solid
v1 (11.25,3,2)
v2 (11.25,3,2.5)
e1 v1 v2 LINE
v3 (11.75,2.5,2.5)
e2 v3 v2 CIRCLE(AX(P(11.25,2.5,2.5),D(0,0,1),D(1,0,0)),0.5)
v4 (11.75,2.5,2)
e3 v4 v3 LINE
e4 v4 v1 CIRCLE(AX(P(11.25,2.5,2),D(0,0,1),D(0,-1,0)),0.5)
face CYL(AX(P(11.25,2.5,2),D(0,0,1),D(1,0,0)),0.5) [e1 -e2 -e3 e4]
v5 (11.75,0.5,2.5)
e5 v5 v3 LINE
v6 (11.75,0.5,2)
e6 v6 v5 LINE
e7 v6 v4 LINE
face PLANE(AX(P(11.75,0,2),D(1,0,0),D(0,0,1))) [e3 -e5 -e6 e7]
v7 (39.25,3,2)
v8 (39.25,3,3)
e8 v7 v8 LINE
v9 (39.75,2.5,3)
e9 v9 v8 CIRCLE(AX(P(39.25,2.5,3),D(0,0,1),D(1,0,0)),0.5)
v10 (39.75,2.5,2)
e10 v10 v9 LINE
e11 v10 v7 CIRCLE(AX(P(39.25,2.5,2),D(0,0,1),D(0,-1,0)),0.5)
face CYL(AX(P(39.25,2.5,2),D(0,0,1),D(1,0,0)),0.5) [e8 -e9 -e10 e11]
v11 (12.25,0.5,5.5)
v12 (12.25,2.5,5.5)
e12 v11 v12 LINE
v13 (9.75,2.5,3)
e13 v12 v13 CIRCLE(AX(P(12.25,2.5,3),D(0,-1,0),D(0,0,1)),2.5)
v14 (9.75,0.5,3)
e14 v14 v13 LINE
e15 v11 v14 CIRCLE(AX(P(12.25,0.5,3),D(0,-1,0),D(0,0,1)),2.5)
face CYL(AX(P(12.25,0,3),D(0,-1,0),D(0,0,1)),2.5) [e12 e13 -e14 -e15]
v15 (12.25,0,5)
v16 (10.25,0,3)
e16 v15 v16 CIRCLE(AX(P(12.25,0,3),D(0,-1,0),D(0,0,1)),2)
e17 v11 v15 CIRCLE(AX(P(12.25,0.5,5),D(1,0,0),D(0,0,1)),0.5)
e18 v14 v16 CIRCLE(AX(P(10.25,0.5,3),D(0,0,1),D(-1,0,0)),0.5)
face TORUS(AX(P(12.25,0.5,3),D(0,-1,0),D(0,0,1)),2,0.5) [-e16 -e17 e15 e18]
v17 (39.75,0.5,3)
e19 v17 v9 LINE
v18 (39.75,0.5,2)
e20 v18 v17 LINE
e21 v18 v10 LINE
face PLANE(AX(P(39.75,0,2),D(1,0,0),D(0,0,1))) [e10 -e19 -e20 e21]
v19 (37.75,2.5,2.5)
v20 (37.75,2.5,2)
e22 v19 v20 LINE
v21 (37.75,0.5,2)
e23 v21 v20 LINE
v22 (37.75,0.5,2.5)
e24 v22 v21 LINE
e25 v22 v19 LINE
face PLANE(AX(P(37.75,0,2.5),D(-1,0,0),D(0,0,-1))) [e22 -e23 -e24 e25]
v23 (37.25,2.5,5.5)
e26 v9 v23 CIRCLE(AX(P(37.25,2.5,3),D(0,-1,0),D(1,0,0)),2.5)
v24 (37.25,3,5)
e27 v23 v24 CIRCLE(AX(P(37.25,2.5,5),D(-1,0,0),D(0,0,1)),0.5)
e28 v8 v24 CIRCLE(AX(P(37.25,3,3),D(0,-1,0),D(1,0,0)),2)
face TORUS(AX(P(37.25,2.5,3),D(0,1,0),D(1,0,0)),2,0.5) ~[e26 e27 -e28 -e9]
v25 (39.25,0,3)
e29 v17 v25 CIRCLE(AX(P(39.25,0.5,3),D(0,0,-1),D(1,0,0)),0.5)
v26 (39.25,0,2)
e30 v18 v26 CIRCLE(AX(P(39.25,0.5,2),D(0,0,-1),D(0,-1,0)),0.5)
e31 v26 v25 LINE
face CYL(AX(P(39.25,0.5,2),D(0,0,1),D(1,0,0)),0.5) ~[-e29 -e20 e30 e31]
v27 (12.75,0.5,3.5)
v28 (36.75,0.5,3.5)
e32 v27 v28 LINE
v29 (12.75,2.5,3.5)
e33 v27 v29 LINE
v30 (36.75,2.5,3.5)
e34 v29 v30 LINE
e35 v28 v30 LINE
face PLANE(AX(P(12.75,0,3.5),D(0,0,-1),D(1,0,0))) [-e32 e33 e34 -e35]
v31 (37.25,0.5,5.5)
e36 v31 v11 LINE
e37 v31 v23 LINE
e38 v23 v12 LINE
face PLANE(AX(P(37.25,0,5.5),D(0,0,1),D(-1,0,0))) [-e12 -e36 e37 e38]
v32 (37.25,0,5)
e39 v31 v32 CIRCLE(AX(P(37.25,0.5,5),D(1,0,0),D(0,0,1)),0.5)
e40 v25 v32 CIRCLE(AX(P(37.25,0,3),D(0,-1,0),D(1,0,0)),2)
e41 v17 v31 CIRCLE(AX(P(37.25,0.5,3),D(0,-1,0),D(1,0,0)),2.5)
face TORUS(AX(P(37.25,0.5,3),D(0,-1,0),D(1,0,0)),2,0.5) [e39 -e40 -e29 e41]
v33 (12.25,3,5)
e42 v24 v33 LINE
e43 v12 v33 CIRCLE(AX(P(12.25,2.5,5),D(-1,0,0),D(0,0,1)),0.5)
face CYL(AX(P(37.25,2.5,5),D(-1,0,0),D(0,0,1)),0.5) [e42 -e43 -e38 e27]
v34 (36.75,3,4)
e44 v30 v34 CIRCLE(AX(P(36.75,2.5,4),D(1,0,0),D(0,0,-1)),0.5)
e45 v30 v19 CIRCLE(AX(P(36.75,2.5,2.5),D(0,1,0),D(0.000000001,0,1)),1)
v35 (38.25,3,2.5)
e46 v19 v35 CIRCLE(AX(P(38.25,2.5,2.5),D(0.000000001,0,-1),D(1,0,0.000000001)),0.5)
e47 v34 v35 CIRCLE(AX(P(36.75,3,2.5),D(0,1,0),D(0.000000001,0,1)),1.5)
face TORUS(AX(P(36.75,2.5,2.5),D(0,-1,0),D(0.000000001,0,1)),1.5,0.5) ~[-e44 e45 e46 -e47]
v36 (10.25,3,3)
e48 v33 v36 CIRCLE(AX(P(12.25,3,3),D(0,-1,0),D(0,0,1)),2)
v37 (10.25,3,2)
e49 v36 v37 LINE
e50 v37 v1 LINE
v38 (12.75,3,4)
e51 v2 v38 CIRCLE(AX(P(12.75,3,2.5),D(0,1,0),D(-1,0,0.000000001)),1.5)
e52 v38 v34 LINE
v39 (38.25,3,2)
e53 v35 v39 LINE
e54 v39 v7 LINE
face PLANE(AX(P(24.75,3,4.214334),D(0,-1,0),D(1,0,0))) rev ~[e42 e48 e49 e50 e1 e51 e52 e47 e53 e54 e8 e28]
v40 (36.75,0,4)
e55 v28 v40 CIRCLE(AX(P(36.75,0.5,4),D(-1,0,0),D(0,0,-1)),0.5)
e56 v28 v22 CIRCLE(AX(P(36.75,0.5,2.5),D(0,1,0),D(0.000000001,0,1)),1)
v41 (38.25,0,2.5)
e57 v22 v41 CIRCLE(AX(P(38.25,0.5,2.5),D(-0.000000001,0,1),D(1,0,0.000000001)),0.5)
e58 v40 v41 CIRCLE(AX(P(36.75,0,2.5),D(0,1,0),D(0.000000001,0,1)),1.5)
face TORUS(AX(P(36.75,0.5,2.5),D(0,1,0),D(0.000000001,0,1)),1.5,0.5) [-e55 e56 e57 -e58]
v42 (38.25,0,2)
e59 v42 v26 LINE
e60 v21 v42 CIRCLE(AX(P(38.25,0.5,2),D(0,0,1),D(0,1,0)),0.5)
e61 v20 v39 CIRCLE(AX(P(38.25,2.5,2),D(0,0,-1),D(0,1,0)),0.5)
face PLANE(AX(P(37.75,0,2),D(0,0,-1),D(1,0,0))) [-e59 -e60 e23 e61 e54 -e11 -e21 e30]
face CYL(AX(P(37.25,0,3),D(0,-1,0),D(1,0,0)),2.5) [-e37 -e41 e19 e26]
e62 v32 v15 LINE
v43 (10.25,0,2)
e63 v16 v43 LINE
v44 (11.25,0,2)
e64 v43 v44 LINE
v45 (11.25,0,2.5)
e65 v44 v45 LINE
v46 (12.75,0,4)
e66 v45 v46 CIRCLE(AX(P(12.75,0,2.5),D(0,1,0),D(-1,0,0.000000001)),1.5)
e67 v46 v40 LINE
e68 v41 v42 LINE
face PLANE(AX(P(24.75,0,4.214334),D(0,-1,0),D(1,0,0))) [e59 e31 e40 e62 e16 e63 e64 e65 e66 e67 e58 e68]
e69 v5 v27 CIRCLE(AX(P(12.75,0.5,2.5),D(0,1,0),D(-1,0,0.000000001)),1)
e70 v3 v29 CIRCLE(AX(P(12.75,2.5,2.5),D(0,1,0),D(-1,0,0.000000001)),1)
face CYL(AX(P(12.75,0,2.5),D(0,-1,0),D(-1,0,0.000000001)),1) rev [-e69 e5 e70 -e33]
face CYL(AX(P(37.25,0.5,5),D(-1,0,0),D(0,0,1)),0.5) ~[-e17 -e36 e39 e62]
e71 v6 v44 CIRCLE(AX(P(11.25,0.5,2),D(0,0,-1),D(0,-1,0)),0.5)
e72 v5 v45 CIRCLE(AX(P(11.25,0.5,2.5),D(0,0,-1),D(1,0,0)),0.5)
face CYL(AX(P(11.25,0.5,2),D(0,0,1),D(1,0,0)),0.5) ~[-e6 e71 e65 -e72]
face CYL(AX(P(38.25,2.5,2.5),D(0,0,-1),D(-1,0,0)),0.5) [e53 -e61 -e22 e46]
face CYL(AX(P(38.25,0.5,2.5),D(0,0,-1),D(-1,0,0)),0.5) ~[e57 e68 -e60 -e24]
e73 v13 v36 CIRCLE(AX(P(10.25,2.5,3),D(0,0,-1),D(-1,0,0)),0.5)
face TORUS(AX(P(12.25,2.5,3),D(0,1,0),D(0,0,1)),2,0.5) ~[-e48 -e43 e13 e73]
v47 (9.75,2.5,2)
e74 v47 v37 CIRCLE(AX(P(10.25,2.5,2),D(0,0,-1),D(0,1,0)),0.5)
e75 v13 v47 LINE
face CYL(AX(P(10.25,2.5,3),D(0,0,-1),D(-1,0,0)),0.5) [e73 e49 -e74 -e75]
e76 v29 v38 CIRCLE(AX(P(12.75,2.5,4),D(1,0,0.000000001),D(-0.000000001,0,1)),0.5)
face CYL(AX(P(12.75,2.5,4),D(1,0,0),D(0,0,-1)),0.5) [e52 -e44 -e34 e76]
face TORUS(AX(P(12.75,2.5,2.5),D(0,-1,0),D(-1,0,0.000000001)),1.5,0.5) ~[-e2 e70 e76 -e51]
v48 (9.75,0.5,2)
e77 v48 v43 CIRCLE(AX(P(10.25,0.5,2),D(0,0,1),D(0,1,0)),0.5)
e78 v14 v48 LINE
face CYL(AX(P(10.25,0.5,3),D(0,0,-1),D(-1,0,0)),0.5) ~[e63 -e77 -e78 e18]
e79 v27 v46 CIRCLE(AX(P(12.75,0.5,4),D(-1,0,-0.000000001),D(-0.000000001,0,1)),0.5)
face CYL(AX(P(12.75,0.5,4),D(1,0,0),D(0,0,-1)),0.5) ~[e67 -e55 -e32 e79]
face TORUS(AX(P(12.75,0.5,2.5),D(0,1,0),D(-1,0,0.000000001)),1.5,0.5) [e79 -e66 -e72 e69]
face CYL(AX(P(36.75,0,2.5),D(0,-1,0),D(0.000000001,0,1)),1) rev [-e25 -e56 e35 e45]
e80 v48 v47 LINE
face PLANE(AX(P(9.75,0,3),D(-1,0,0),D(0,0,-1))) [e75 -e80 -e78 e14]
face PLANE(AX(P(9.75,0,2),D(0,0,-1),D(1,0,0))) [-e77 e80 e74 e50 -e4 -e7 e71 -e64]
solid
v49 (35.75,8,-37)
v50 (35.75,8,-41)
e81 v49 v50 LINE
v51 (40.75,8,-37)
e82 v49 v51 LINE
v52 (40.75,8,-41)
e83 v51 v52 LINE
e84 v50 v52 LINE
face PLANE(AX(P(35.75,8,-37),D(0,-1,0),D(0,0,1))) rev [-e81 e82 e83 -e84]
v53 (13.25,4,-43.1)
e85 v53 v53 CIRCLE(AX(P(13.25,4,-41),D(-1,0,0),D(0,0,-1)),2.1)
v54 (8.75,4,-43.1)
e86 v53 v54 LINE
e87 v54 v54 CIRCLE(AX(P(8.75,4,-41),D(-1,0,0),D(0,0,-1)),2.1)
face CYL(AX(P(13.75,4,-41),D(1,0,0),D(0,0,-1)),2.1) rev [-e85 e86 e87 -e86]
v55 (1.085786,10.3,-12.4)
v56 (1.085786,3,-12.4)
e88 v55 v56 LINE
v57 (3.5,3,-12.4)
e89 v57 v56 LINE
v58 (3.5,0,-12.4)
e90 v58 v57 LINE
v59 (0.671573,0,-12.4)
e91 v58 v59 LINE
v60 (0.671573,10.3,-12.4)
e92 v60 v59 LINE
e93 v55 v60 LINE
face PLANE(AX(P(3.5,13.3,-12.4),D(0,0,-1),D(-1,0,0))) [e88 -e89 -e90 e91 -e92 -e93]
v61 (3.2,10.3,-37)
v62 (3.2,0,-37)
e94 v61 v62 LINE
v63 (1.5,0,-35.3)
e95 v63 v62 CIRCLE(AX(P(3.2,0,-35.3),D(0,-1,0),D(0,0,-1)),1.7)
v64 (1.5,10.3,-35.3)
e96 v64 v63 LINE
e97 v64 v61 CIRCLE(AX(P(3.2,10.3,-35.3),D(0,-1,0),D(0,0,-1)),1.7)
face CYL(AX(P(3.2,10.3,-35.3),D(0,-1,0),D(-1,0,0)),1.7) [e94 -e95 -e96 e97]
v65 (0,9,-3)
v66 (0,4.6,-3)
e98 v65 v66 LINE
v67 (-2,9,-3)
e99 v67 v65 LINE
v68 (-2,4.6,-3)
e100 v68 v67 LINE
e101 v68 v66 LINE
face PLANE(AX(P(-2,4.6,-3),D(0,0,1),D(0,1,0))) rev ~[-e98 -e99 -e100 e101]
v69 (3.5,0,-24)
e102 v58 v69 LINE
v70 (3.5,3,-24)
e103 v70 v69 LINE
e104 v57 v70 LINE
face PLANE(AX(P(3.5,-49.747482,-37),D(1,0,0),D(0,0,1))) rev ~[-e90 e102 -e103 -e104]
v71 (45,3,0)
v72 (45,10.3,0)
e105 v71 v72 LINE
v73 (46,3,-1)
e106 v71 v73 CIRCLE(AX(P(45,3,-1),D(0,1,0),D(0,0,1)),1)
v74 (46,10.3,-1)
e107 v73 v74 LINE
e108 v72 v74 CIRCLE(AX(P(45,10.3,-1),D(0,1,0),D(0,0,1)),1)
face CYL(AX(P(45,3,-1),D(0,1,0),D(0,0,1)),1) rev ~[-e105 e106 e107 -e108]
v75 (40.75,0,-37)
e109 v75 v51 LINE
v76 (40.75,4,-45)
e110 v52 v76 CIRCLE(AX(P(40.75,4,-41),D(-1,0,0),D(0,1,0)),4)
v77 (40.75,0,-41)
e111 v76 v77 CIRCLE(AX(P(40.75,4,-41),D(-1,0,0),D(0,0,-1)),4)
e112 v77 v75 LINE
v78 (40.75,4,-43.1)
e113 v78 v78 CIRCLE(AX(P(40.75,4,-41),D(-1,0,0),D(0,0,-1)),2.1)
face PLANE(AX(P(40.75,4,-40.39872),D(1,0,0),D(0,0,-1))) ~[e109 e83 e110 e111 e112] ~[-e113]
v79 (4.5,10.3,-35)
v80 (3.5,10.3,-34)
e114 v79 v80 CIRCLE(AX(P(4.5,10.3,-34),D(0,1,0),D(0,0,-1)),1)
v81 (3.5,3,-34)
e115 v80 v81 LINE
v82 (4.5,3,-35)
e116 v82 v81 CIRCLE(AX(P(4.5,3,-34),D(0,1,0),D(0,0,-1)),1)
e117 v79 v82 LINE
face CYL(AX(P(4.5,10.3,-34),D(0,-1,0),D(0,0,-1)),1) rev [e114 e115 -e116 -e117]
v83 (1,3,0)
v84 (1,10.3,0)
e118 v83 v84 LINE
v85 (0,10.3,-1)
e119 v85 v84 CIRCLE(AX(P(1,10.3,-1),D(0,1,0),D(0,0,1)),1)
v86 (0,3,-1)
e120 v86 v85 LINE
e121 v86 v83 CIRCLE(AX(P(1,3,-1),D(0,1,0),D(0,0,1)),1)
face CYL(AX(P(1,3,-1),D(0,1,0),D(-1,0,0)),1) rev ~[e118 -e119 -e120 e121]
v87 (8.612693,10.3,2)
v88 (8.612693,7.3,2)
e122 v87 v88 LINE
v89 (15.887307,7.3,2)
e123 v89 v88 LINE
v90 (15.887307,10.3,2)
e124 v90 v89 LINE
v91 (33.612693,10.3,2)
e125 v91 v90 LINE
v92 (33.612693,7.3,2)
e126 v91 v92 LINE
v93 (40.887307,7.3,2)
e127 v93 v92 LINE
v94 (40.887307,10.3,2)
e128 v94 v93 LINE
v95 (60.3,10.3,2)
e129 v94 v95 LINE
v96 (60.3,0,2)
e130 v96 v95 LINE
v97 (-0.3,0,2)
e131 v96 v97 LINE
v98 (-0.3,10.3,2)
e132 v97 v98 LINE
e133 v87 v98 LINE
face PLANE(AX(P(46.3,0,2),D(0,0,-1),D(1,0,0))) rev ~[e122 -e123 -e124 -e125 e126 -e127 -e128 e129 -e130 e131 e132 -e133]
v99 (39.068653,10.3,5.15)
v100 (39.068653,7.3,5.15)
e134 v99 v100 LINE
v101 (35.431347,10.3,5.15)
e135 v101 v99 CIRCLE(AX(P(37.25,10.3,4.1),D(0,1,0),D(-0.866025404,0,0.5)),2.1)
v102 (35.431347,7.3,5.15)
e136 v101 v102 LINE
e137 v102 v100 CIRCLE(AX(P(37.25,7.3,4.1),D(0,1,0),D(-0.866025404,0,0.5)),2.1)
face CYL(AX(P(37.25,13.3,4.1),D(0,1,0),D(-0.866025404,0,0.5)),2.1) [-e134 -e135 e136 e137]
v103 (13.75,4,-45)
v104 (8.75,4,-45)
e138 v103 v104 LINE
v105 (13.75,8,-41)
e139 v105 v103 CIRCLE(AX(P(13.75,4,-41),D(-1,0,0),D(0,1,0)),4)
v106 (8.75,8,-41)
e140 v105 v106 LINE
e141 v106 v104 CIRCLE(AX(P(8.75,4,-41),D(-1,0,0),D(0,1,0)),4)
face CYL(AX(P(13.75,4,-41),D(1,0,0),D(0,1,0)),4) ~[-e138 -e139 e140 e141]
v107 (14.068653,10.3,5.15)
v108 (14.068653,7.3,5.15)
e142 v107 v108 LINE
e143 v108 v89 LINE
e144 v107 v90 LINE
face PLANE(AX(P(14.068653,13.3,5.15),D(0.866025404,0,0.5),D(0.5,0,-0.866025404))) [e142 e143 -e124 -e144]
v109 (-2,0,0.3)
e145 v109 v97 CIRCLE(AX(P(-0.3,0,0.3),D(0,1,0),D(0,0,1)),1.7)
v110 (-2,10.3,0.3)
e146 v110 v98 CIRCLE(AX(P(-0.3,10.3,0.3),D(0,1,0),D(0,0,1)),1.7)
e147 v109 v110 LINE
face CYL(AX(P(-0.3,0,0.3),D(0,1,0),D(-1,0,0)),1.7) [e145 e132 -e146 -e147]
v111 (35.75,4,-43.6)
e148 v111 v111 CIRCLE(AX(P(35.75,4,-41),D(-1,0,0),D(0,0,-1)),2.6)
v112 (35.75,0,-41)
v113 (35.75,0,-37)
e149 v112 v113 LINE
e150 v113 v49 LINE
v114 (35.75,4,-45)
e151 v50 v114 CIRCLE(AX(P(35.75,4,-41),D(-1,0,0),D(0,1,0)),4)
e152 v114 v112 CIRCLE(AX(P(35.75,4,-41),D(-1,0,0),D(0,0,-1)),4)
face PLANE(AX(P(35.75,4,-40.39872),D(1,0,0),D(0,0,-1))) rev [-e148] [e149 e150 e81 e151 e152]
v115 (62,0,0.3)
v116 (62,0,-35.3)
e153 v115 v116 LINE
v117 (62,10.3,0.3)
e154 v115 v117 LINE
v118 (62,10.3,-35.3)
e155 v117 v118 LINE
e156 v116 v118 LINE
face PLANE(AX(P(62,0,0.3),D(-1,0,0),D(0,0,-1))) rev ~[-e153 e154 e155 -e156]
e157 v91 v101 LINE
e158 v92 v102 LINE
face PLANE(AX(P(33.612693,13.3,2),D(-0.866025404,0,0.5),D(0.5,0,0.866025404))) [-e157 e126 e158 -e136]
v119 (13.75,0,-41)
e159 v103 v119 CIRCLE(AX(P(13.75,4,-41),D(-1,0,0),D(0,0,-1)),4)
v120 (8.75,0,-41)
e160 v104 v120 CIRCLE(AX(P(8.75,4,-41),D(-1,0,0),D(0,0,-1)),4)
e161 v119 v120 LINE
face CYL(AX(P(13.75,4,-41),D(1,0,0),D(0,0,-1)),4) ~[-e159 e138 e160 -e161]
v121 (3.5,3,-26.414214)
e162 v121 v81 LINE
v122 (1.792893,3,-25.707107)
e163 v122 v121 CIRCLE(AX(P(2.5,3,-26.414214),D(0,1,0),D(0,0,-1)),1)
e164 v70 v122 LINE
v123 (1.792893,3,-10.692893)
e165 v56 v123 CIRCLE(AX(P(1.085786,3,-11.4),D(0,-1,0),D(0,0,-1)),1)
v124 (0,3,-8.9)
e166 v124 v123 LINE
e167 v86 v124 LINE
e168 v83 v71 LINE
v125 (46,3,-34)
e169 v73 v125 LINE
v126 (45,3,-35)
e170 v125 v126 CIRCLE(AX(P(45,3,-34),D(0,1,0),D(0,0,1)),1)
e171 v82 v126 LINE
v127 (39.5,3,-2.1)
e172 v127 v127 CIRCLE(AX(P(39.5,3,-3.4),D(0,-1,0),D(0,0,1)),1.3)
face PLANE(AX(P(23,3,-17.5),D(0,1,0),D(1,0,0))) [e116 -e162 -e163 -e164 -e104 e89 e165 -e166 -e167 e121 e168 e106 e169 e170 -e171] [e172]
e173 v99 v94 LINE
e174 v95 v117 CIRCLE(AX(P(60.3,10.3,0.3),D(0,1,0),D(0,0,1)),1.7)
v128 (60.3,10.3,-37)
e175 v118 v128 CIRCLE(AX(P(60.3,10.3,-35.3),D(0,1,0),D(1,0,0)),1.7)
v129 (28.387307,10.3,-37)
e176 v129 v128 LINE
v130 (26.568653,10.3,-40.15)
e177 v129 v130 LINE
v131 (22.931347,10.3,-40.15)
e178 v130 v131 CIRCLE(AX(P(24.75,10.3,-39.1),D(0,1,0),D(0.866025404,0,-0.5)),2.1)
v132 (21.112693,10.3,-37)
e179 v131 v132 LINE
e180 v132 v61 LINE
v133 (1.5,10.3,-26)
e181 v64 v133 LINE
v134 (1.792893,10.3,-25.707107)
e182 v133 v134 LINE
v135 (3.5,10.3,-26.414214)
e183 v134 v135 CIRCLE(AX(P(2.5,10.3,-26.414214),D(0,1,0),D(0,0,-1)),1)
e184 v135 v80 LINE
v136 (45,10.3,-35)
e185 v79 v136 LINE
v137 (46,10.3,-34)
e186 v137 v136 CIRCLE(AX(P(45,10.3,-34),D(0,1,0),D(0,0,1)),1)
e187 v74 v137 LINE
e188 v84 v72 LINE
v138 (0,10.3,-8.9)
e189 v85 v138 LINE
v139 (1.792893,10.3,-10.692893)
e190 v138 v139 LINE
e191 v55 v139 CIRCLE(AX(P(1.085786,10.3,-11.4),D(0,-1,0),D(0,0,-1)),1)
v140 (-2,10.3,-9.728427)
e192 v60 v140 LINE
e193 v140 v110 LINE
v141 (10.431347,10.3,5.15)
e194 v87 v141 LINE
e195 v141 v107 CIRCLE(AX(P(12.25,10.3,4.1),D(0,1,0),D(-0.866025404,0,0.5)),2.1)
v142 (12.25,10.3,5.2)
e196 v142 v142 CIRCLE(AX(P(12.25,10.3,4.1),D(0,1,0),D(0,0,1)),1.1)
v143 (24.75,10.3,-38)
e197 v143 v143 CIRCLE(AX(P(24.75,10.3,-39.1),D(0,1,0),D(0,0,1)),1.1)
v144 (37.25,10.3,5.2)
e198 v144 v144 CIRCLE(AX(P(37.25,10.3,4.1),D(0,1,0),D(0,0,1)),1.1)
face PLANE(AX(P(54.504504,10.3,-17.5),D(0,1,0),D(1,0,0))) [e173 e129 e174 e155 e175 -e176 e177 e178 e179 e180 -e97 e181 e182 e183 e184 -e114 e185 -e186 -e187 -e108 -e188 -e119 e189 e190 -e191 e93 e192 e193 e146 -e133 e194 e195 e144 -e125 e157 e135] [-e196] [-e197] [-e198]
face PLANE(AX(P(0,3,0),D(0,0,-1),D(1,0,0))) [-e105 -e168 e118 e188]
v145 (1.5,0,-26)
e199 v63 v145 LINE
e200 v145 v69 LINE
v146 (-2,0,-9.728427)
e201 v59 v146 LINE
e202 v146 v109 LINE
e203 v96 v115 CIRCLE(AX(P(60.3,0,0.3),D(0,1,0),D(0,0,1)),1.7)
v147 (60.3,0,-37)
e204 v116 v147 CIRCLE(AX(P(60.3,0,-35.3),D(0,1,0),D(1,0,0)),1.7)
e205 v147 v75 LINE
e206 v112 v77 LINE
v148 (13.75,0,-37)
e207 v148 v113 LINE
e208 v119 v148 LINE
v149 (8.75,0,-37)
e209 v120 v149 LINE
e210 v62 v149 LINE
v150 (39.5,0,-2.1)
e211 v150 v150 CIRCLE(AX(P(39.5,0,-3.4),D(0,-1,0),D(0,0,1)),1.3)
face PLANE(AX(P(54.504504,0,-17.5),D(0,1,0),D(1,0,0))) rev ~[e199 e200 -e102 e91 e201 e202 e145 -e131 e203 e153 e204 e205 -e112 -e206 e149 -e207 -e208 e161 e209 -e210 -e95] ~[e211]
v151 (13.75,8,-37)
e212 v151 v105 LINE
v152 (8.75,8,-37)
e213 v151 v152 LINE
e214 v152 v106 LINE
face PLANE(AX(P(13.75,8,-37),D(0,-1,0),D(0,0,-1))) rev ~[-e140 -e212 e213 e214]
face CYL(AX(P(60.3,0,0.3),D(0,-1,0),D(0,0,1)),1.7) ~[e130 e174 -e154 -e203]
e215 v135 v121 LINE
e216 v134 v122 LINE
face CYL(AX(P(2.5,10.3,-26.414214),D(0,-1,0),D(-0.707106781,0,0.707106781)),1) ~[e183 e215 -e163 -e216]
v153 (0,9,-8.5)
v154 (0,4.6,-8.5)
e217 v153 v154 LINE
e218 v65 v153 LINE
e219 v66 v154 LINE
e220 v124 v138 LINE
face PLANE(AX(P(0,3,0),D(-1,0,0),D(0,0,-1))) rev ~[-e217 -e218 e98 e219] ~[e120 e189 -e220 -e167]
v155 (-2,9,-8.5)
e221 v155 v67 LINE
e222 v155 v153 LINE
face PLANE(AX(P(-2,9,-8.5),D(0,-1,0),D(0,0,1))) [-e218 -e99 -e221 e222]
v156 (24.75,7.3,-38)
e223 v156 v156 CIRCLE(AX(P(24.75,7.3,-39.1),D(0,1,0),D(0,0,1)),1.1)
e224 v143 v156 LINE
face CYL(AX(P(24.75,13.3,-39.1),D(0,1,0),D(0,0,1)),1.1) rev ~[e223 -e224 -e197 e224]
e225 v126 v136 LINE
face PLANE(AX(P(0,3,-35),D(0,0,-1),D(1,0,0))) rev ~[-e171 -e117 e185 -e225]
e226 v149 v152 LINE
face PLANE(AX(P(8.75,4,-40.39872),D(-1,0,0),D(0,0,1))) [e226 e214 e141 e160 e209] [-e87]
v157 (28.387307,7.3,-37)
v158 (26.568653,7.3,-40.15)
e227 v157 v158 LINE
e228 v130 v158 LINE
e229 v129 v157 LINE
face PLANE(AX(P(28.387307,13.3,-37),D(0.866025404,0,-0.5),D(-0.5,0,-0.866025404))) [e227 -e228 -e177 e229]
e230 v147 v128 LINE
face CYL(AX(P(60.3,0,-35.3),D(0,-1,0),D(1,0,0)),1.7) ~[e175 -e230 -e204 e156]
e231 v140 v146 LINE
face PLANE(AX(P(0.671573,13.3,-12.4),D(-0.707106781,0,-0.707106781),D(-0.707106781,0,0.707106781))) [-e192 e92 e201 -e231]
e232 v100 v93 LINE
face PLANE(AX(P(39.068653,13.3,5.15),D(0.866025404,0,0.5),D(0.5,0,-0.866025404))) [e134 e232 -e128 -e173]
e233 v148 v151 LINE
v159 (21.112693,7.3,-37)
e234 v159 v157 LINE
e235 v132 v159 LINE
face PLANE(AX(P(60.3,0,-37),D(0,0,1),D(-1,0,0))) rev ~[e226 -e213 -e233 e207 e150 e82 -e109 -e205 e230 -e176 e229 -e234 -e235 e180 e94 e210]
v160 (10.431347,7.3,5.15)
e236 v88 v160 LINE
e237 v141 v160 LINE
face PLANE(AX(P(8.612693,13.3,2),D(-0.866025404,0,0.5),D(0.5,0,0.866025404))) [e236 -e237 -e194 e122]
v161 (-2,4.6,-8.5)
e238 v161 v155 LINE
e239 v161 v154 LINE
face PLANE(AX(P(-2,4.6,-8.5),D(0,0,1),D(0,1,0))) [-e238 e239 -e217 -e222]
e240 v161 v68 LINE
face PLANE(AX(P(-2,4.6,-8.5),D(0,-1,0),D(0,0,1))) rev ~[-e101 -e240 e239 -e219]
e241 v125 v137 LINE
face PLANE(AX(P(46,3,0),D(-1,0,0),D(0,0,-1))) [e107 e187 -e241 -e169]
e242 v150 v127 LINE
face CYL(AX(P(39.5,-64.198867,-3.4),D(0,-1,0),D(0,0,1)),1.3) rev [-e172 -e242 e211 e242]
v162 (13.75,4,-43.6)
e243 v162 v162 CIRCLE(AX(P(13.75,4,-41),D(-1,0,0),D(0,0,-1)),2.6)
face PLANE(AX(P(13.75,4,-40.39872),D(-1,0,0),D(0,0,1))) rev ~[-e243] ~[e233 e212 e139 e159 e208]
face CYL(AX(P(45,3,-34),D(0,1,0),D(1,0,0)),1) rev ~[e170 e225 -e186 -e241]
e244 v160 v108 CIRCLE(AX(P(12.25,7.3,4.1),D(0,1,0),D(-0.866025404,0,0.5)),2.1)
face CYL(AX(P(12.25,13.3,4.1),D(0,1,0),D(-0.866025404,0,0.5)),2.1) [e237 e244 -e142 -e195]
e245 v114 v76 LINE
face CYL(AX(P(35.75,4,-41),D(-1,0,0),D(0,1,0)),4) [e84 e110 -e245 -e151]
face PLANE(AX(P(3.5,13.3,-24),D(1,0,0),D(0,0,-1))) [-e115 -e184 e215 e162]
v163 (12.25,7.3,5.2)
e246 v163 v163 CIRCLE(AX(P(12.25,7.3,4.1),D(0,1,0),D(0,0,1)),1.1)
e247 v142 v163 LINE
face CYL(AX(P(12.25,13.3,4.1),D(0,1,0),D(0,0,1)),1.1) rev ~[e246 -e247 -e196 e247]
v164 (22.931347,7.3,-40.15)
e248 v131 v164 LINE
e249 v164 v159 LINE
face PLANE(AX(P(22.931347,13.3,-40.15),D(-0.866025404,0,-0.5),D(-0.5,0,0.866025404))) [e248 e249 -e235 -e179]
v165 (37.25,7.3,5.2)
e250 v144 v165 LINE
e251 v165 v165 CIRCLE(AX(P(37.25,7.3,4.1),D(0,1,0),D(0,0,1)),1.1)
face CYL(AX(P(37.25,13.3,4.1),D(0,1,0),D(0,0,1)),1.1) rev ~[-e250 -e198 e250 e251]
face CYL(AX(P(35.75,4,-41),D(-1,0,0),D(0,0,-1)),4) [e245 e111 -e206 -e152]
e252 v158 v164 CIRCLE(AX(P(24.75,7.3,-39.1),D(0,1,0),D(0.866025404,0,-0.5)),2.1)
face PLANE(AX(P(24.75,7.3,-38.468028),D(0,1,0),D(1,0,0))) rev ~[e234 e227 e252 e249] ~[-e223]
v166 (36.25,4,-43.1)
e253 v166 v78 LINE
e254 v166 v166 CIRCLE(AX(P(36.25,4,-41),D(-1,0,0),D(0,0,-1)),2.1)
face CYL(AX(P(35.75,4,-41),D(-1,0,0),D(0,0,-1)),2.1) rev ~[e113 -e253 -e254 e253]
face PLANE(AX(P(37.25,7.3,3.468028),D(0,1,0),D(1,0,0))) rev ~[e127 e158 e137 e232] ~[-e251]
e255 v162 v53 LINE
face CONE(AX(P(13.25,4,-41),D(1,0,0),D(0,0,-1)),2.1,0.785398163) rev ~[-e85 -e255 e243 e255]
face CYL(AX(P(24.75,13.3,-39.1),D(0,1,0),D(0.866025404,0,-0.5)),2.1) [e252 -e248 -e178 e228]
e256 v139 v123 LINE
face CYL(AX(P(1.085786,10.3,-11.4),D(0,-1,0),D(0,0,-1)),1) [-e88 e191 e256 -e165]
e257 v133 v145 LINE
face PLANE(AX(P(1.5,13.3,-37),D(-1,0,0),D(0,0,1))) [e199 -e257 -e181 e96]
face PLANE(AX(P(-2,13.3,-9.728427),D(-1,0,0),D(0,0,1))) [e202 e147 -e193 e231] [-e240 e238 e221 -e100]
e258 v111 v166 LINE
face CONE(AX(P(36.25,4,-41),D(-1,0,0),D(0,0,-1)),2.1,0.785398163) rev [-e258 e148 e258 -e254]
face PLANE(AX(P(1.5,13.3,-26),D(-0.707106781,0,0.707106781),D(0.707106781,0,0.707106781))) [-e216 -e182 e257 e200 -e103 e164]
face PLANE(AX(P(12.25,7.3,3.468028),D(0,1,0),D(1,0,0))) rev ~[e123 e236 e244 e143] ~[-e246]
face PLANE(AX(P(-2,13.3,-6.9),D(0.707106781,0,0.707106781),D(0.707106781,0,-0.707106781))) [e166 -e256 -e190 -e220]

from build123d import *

# Parameters (mm, degrees)
SKETCH1_W               = 50
SKETCH1_H               = 39
BOSS_EXTRUDE1_DEPTH     = 3
BOSS_EXTRUDE2_START     = 3
SKETCH1_4_W             = 2
SKETCH1_4_H             = 2
SKETCH1_4_W_2           = 46
SKETCH1_4_H_2           = 35
BOSS_EXTRUDE2_DEPTH     = 7.3
BOSS_EXTRUDE3_START     = 10.3
SKETCH1_5_W             = 50
SKETCH1_5_H             = 39
BOSS_EXTRUDE3_DEPTH     = 3
CUT_EXTRUDE5_DEPTH      = 63.047481818
CUT_EXTRUDE5_DEPTH_BACK = 63.047481818
BOSS_EXTRUDE4_REACH     = 64.047
CUT_EXTRUDE2_REACH      = 65.607
SKETCH2_W               = 5.5
SKETCH2_H               = 4.4
SKETCH8_R               = 1.1
BOSS_EXTRUDE5_DEPTH     = 6
FILLET1_R               = 1.7
FILLET10_R              = 1
BOSS_EXTRUDE8_DEPTH     = 3
FILLET5_R               = 0.5
BOSS_EXTRUDE11_START    = 11
SKETCH13_R              = 2.1
BOSS_EXTRUDE11_DEPTH    = 5
CHAMFER1_SIZE           = 0.5
CUT_EXTRUDE9_DEPTH      = 67.19886706
CUT_EXTRUDE9_DEPTH_BACK = 67.19886706
SKETCH29_R              = 1.3
FILLET12_R              = 1
BOSS_EXTRUDE23_DEPTH    = 10.3


with BuildPart() as part:
    # Sketch1 → Boss-Extrude1 (new body)
    with BuildSketch(Plane(origin=(0, 0, 0), x_dir=(1, 0, 0), z_dir=(0, 1, 0))):
        with Locations((23, 17.5)):
            Rectangle(SKETCH1_W, SKETCH1_H)
    extrude(amount=BOSS_EXTRUDE1_DEPTH)

    # Sketch1<4> → Boss-Extrude2 (add)
    with BuildSketch(Plane(origin=(0, 0, 0), x_dir=(1, 0, 0), z_dir=(0, 1, 0)).offset(BOSS_EXTRUDE2_START)):
        with Locations((-1, 36)):
            Rectangle(SKETCH1_4_W, SKETCH1_4_H)
        with Locations((23, 36)):
            Rectangle(SKETCH1_4_W_2, SKETCH1_4_H)
        with Locations((-1, 17.5)):
            Rectangle(SKETCH1_4_W, SKETCH1_4_H_2)
        with Locations((47, 36)):
            Rectangle(SKETCH1_4_W, SKETCH1_4_H)
        with Locations((47, 17.5)):
            Rectangle(SKETCH1_4_W, SKETCH1_4_H_2)
        with Locations((23, -1)):
            Rectangle(SKETCH1_4_W_2, SKETCH1_4_H)
        with Locations((47, -1)):
            Rectangle(SKETCH1_4_W, SKETCH1_4_H)
        with Locations((-1, -1)):
            Rectangle(SKETCH1_4_W, SKETCH1_4_H)
    extrude(amount=BOSS_EXTRUDE2_DEPTH)

    # Sketch1<5> → Boss-Extrude3 (add)
    with BuildSketch(Plane(origin=(0, 0, 0), x_dir=(1, 0, 0), z_dir=(0, 1, 0)).offset(BOSS_EXTRUDE3_START)):
        with Locations((23, 17.5)):
            Rectangle(SKETCH1_5_W, SKETCH1_5_H)
    extrude(amount=BOSS_EXTRUDE3_DEPTH)

    # Sketch5 → Cut-Extrude5 (cut, two sides: drawn at the far end of the back side and taken through both)
    with BuildSketch(Plane(origin=(0, 13.3, 0), x_dir=(1, 0, 0), z_dir=(0, 1, 0)).offset(-CUT_EXTRUDE5_DEPTH_BACK)):
        Polygon((3.5, 12.4), (-2, 6.9), (-2, 37), (3.5, 37), align=None)
    extrude(amount=CUT_EXTRUDE5_DEPTH + CUT_EXTRUDE5_DEPTH_BACK, mode=Mode.SUBTRACT)

    # Boss-Extrude4: up to this face of the body (flat: up to its plane)
    boss_extrude4_end = Plane(part.part.faces().sort_by_distance((24.867563638, 0, -17.016945205))[0])
    # Sketch7 → Boss-Extrude4 (add, up to the picked face)
    with BuildSketch(Plane(origin=(0, 13.3, 0), x_dir=(1, 0, 0), z_dir=(0, 1, 0)), mode=Mode.PRIVATE) as boss_extrude4_sk1:
        Polygon((-2, 9.728427125), (-2, 6.9), (3.5, 12.4), (0.671572875, 12.4), align=None)
    boss_extrude4_tool1 = split(extrude(boss_extrude4_sk1.sketch, amount=-BOSS_EXTRUDE4_REACH, mode=Mode.PRIVATE), bisect_by=boss_extrude4_end, keep=Keep.BOTH, mode=Mode.PRIVATE)
    # Sketch7 → Boss-Extrude4 (add, up to the picked face)
    with BuildSketch(Plane(origin=(0, 13.3, 0), x_dir=(1, 0, 0), z_dir=(0, 1, 0)), mode=Mode.PRIVATE) as boss_extrude4_sk2:
        Polygon((1.5, 26), (3.5, 24), (3.5, 37), (1.5, 37), align=None)
    boss_extrude4_tool2 = split(extrude(boss_extrude4_sk2.sketch, amount=-BOSS_EXTRUDE4_REACH, mode=Mode.PRIVATE), bisect_by=boss_extrude4_end, keep=Keep.BOTH, mode=Mode.PRIVATE)
    add(boss_extrude4_tool1.solids().sort_by(Axis((0.124477, 13.3, -10.275523), (0, -1, 0)))[0])
    add(boss_extrude4_tool2.solids().sort_by(Axis((2.527778, 13.3, -30.986111), (0, -1, 0)))[0])

    # Sketch2 → Cut-Extrude2 (cut, up to next)
    with BuildSketch(Plane.ZY.offset(2), mode=Mode.PRIVATE) as cut_extrude2_sk1:
        with Locations((-5.75, 6.8)):
            Rectangle(SKETCH2_W, SKETCH2_H)
    cut_extrude2_tool1 = extrude(cut_extrude2_sk1.sketch, amount=-CUT_EXTRUDE2_REACH, mode=Mode.PRIVATE) & part.part
    add(cut_extrude2_tool1.solids().sort_by_distance((-2, 6.8, -5.75))[0], mode=Mode.SUBTRACT)

    # Sketch8 → Boss-Extrude5 (add)
    # profile 1 of 3: a face of its own
    with BuildSketch(Plane(origin=(0, 13.3, 0), x_dir=(1, 0, 0), z_dir=(0, 1, 0))):
        with BuildLine():
            Line((22.931346652, 40.15), (21.112693304, 37))
            Line((21.112693304, 37), (28.387306696, 37))
            Line((28.387306696, 37), (26.568653348, 40.15))
            ThreePointArc((26.568653348, 40.15), (24.75, 41.2), (22.931346652, 40.15))
        make_face()
        with Locations(Location((24.75, 39.1, 0), (0, 0, 270))):
            Circle(SKETCH8_R, mode=Mode.SUBTRACT)
    # profile 2 of 3: a face of its own
    with BuildSketch(Plane(origin=(0, 13.3, 0), x_dir=(1, 0, 0), z_dir=(0, 1, 0))):
        with BuildLine():
            Line((39.068653348, -5.15), (40.887306696, -2))
            Line((40.887306696, -2), (33.612693304, -2))
            Line((33.612693304, -2), (35.431346652, -5.15))
            ThreePointArc((35.431346652, -5.15), (37.25, -6.2), (39.068653348, -5.15))
        make_face()
        with Locations(Location((37.25, -4.1, 0), (0, 0, 270))):
            Circle(SKETCH8_R, mode=Mode.SUBTRACT)
    # profile 3 of 3: a face of its own
    with BuildSketch(Plane(origin=(0, 13.3, 0), x_dir=(1, 0, 0), z_dir=(0, 1, 0))):
        with BuildLine():
            Line((14.068653348, -5.15), (15.887306696, -2))
            Line((15.887306696, -2), (8.612693304, -2))
            Line((8.612693304, -2), (10.431346652, -5.15))
            ThreePointArc((10.431346652, -5.15), (12.25, -6.2), (14.068653348, -5.15))
        make_face()
        with Locations(Location((12.25, -4.1, 0), (0, 0, 270))):
            Circle(SKETCH8_R, mode=Mode.SUBTRACT)
    extrude(amount=-BOSS_EXTRUDE5_DEPTH)


with BuildPart() as body_2:
    # Split1: the piece on the far side of the plane
    add(part.part)
    split(bisect_by=Plane(origin=(0, 10.3, 0), x_dir=(0, 0, -1), z_dir=(0, -1, 0)), keep=Keep.BOTTOM)


with BuildPart() as part_1:
    add(part.part)

    # Split1
    split(bisect_by=Plane(origin=(0, 10.3, 0), x_dir=(0, 0, -1), z_dir=(0, -1, 0)), keep=Keep.TOP)

    # Fillet1
    fillet1_edges = [part_1.edges().sort_by_distance(p)[0] for p in [
        (48, 5.15, -37),
        (48, 5.15, 2),
        (-2, 5.15, 2),
        (1.5, 5.15, -37),
    ]]
    fillet(fillet1_edges, radius=FILLET1_R)

    # Fillet10
    fillet10_edges = [part_1.edges().sort_by_distance(p)[0] for p in [
        (0, 6.65, 0),
        (46, 6.65, 0),
        (46, 6.65, -35),
        (3.5, 6.65, -35),
    ]]
    fillet(fillet10_edges, radius=FILLET10_R)

    # Sketch13 → Boss-Extrude11 (add)
    with BuildSketch(Plane.ZY.offset(-24.75).offset(BOSS_EXTRUDE11_START)):
        with BuildLine():
            Line((-37, 0), (-37, 8))
            Line((-37, 8), (-41, 8))
            ThreePointArc((-41, 8), (-43.828427125, 6.828427125), (-45, 4))
            ThreePointArc((-45, 4), (-43.828427125, 1.171572875), (-41, 0))
            Line((-41, 0), (-37, 0))
        make_face()
        with Locations(Location((-41, 4, 0), (0, 0, 180))):
            Circle(SKETCH13_R, mode=Mode.SUBTRACT)
    boss_extrude11 = extrude(amount=BOSS_EXTRUDE11_DEPTH)

    # Mirror1: Boss-Extrude11 across plane
    add(boss_extrude11.mirror(Plane(origin=(24.75, 0, 0), x_dir=(0, 0, 1), z_dir=(1, 0, 0))))

    # Chamfer1
    chamfer1_edges = [part_1.edges().sort_by_distance(p)[0] for p in [
        (13.75, 4, -38.9),
        (35.75, 4, -38.9),
    ]]
    chamfer(chamfer1_edges, length=CHAMFER1_SIZE)

    # Sketch29 → Cut-Extrude9 (cut, two sides: drawn at the far end of the back side and taken through both)
    with BuildSketch(Plane(origin=(0, 3, 0), x_dir=(1, 0, 0), z_dir=(0, 1, 0)).offset(-CUT_EXTRUDE9_DEPTH_BACK)):
        with Locations(Location((39.5, 3.4, 0), (0, 0, 270))):
            Circle(SKETCH29_R)
    extrude(amount=CUT_EXTRUDE9_DEPTH + CUT_EXTRUDE9_DEPTH_BACK, mode=Mode.SUBTRACT)

    # Fillet12
    fillet12_edges = [part_1.edges().sort_by_distance(p)[0] for p in [
        (3.5, 6.65, -12.4),
        (3.5, 6.65, -24),
    ]]
    fillet(fillet12_edges, radius=FILLET12_R)

    # Sketch32 → Boss-Extrude23 (add)
    with BuildSketch(Plane(origin=(0, 0, 0), x_dir=(1, 0, 0), z_dir=(0, 1, 0))):
        with BuildLine():
            ThreePointArc((62, 35.3), (61.502081528, 36.502081528), (60.3, 37))
            Line((60.3, 37), (46.3, 37))
            ThreePointArc((46.3, 37), (47.502081528, 36.502081528), (48, 35.3))
            Line((48, 35.3), (48, -0.3))
            ThreePointArc((48, -0.3), (47.502081528, -1.502081528), (46.3, -2))
            Line((46.3, -2), (60.3, -2))
            ThreePointArc((60.3, -2), (61.502081528, -1.502081528), (62, -0.3))
            Line((62, -0.3), (62, 35.3))
        make_face()
    extrude(amount=BOSS_EXTRUDE23_DEPTH)


with BuildPart() as body_2_2:
    # Sketch11 → Boss-Extrude8 (new body)
    with BuildSketch(Plane.XZ):
        with BuildLine():
            Line((39.75, 2), (39.75, 3))
            ThreePointArc((39.75, 3), (39.017766953, 4.767766953), (37.25, 5.5))
            Line((37.25, 5.5), (12.25, 5.5))
            ThreePointArc((12.25, 5.5), (10.482233047, 4.767766953), (9.75, 3))
            Line((9.75, 3), (9.75, 2))
            Line((9.75, 2), (11.75, 2))
            Line((11.75, 2), (11.75, 2.5))
            ThreePointArc((11.75, 2.5), (12.042893219, 3.207106781), (12.75, 3.5))
            Line((12.75, 3.5), (36.75, 3.5))
            ThreePointArc((36.75, 3.5), (37.457106781, 3.207106781), (37.75, 2.5))
            Line((37.75, 2.5), (37.75, 2))
            Line((37.75, 2), (39.75, 2))
        make_face()
    extrude(amount=-BOSS_EXTRUDE8_DEPTH)

    # Fillet5
    fillet5_edges = [body_2_2.edges().sort_by_distance(p)[0] for p in [
        (37.75, 0, 2.25),
        (37.457106781, 0, 3.207106781),
        (39.017766953, 3, 4.767766953),
        (24.75, 0, 3.5),
        (12.042893219, 0, 3.207106781),
        (11.75, 0, 2.25),
        (9.75, 0, 2.5),
        (10.482233047, 0, 4.767766953),
        (24.75, 0, 5.5),
        (39.017766953, 0, 4.767766953),
        (39.75, 0, 2.5),
        (24.75, 3, 5.5),
        (10.482233047, 3, 4.767766953),
        (9.75, 3, 2.5),
        (11.75, 3, 2.25),
        (12.042893219, 3, 3.207106781),
        (24.75, 3, 3.5),
        (37.457106781, 3, 3.207106781),
        (37.75, 3, 2.25),
        (39.75, 3, 2.5),
    ]]
    fillet(fillet5_edges, radius=FILLET5_R)


solid = Compound([part_1.part, body_2_2.part])
